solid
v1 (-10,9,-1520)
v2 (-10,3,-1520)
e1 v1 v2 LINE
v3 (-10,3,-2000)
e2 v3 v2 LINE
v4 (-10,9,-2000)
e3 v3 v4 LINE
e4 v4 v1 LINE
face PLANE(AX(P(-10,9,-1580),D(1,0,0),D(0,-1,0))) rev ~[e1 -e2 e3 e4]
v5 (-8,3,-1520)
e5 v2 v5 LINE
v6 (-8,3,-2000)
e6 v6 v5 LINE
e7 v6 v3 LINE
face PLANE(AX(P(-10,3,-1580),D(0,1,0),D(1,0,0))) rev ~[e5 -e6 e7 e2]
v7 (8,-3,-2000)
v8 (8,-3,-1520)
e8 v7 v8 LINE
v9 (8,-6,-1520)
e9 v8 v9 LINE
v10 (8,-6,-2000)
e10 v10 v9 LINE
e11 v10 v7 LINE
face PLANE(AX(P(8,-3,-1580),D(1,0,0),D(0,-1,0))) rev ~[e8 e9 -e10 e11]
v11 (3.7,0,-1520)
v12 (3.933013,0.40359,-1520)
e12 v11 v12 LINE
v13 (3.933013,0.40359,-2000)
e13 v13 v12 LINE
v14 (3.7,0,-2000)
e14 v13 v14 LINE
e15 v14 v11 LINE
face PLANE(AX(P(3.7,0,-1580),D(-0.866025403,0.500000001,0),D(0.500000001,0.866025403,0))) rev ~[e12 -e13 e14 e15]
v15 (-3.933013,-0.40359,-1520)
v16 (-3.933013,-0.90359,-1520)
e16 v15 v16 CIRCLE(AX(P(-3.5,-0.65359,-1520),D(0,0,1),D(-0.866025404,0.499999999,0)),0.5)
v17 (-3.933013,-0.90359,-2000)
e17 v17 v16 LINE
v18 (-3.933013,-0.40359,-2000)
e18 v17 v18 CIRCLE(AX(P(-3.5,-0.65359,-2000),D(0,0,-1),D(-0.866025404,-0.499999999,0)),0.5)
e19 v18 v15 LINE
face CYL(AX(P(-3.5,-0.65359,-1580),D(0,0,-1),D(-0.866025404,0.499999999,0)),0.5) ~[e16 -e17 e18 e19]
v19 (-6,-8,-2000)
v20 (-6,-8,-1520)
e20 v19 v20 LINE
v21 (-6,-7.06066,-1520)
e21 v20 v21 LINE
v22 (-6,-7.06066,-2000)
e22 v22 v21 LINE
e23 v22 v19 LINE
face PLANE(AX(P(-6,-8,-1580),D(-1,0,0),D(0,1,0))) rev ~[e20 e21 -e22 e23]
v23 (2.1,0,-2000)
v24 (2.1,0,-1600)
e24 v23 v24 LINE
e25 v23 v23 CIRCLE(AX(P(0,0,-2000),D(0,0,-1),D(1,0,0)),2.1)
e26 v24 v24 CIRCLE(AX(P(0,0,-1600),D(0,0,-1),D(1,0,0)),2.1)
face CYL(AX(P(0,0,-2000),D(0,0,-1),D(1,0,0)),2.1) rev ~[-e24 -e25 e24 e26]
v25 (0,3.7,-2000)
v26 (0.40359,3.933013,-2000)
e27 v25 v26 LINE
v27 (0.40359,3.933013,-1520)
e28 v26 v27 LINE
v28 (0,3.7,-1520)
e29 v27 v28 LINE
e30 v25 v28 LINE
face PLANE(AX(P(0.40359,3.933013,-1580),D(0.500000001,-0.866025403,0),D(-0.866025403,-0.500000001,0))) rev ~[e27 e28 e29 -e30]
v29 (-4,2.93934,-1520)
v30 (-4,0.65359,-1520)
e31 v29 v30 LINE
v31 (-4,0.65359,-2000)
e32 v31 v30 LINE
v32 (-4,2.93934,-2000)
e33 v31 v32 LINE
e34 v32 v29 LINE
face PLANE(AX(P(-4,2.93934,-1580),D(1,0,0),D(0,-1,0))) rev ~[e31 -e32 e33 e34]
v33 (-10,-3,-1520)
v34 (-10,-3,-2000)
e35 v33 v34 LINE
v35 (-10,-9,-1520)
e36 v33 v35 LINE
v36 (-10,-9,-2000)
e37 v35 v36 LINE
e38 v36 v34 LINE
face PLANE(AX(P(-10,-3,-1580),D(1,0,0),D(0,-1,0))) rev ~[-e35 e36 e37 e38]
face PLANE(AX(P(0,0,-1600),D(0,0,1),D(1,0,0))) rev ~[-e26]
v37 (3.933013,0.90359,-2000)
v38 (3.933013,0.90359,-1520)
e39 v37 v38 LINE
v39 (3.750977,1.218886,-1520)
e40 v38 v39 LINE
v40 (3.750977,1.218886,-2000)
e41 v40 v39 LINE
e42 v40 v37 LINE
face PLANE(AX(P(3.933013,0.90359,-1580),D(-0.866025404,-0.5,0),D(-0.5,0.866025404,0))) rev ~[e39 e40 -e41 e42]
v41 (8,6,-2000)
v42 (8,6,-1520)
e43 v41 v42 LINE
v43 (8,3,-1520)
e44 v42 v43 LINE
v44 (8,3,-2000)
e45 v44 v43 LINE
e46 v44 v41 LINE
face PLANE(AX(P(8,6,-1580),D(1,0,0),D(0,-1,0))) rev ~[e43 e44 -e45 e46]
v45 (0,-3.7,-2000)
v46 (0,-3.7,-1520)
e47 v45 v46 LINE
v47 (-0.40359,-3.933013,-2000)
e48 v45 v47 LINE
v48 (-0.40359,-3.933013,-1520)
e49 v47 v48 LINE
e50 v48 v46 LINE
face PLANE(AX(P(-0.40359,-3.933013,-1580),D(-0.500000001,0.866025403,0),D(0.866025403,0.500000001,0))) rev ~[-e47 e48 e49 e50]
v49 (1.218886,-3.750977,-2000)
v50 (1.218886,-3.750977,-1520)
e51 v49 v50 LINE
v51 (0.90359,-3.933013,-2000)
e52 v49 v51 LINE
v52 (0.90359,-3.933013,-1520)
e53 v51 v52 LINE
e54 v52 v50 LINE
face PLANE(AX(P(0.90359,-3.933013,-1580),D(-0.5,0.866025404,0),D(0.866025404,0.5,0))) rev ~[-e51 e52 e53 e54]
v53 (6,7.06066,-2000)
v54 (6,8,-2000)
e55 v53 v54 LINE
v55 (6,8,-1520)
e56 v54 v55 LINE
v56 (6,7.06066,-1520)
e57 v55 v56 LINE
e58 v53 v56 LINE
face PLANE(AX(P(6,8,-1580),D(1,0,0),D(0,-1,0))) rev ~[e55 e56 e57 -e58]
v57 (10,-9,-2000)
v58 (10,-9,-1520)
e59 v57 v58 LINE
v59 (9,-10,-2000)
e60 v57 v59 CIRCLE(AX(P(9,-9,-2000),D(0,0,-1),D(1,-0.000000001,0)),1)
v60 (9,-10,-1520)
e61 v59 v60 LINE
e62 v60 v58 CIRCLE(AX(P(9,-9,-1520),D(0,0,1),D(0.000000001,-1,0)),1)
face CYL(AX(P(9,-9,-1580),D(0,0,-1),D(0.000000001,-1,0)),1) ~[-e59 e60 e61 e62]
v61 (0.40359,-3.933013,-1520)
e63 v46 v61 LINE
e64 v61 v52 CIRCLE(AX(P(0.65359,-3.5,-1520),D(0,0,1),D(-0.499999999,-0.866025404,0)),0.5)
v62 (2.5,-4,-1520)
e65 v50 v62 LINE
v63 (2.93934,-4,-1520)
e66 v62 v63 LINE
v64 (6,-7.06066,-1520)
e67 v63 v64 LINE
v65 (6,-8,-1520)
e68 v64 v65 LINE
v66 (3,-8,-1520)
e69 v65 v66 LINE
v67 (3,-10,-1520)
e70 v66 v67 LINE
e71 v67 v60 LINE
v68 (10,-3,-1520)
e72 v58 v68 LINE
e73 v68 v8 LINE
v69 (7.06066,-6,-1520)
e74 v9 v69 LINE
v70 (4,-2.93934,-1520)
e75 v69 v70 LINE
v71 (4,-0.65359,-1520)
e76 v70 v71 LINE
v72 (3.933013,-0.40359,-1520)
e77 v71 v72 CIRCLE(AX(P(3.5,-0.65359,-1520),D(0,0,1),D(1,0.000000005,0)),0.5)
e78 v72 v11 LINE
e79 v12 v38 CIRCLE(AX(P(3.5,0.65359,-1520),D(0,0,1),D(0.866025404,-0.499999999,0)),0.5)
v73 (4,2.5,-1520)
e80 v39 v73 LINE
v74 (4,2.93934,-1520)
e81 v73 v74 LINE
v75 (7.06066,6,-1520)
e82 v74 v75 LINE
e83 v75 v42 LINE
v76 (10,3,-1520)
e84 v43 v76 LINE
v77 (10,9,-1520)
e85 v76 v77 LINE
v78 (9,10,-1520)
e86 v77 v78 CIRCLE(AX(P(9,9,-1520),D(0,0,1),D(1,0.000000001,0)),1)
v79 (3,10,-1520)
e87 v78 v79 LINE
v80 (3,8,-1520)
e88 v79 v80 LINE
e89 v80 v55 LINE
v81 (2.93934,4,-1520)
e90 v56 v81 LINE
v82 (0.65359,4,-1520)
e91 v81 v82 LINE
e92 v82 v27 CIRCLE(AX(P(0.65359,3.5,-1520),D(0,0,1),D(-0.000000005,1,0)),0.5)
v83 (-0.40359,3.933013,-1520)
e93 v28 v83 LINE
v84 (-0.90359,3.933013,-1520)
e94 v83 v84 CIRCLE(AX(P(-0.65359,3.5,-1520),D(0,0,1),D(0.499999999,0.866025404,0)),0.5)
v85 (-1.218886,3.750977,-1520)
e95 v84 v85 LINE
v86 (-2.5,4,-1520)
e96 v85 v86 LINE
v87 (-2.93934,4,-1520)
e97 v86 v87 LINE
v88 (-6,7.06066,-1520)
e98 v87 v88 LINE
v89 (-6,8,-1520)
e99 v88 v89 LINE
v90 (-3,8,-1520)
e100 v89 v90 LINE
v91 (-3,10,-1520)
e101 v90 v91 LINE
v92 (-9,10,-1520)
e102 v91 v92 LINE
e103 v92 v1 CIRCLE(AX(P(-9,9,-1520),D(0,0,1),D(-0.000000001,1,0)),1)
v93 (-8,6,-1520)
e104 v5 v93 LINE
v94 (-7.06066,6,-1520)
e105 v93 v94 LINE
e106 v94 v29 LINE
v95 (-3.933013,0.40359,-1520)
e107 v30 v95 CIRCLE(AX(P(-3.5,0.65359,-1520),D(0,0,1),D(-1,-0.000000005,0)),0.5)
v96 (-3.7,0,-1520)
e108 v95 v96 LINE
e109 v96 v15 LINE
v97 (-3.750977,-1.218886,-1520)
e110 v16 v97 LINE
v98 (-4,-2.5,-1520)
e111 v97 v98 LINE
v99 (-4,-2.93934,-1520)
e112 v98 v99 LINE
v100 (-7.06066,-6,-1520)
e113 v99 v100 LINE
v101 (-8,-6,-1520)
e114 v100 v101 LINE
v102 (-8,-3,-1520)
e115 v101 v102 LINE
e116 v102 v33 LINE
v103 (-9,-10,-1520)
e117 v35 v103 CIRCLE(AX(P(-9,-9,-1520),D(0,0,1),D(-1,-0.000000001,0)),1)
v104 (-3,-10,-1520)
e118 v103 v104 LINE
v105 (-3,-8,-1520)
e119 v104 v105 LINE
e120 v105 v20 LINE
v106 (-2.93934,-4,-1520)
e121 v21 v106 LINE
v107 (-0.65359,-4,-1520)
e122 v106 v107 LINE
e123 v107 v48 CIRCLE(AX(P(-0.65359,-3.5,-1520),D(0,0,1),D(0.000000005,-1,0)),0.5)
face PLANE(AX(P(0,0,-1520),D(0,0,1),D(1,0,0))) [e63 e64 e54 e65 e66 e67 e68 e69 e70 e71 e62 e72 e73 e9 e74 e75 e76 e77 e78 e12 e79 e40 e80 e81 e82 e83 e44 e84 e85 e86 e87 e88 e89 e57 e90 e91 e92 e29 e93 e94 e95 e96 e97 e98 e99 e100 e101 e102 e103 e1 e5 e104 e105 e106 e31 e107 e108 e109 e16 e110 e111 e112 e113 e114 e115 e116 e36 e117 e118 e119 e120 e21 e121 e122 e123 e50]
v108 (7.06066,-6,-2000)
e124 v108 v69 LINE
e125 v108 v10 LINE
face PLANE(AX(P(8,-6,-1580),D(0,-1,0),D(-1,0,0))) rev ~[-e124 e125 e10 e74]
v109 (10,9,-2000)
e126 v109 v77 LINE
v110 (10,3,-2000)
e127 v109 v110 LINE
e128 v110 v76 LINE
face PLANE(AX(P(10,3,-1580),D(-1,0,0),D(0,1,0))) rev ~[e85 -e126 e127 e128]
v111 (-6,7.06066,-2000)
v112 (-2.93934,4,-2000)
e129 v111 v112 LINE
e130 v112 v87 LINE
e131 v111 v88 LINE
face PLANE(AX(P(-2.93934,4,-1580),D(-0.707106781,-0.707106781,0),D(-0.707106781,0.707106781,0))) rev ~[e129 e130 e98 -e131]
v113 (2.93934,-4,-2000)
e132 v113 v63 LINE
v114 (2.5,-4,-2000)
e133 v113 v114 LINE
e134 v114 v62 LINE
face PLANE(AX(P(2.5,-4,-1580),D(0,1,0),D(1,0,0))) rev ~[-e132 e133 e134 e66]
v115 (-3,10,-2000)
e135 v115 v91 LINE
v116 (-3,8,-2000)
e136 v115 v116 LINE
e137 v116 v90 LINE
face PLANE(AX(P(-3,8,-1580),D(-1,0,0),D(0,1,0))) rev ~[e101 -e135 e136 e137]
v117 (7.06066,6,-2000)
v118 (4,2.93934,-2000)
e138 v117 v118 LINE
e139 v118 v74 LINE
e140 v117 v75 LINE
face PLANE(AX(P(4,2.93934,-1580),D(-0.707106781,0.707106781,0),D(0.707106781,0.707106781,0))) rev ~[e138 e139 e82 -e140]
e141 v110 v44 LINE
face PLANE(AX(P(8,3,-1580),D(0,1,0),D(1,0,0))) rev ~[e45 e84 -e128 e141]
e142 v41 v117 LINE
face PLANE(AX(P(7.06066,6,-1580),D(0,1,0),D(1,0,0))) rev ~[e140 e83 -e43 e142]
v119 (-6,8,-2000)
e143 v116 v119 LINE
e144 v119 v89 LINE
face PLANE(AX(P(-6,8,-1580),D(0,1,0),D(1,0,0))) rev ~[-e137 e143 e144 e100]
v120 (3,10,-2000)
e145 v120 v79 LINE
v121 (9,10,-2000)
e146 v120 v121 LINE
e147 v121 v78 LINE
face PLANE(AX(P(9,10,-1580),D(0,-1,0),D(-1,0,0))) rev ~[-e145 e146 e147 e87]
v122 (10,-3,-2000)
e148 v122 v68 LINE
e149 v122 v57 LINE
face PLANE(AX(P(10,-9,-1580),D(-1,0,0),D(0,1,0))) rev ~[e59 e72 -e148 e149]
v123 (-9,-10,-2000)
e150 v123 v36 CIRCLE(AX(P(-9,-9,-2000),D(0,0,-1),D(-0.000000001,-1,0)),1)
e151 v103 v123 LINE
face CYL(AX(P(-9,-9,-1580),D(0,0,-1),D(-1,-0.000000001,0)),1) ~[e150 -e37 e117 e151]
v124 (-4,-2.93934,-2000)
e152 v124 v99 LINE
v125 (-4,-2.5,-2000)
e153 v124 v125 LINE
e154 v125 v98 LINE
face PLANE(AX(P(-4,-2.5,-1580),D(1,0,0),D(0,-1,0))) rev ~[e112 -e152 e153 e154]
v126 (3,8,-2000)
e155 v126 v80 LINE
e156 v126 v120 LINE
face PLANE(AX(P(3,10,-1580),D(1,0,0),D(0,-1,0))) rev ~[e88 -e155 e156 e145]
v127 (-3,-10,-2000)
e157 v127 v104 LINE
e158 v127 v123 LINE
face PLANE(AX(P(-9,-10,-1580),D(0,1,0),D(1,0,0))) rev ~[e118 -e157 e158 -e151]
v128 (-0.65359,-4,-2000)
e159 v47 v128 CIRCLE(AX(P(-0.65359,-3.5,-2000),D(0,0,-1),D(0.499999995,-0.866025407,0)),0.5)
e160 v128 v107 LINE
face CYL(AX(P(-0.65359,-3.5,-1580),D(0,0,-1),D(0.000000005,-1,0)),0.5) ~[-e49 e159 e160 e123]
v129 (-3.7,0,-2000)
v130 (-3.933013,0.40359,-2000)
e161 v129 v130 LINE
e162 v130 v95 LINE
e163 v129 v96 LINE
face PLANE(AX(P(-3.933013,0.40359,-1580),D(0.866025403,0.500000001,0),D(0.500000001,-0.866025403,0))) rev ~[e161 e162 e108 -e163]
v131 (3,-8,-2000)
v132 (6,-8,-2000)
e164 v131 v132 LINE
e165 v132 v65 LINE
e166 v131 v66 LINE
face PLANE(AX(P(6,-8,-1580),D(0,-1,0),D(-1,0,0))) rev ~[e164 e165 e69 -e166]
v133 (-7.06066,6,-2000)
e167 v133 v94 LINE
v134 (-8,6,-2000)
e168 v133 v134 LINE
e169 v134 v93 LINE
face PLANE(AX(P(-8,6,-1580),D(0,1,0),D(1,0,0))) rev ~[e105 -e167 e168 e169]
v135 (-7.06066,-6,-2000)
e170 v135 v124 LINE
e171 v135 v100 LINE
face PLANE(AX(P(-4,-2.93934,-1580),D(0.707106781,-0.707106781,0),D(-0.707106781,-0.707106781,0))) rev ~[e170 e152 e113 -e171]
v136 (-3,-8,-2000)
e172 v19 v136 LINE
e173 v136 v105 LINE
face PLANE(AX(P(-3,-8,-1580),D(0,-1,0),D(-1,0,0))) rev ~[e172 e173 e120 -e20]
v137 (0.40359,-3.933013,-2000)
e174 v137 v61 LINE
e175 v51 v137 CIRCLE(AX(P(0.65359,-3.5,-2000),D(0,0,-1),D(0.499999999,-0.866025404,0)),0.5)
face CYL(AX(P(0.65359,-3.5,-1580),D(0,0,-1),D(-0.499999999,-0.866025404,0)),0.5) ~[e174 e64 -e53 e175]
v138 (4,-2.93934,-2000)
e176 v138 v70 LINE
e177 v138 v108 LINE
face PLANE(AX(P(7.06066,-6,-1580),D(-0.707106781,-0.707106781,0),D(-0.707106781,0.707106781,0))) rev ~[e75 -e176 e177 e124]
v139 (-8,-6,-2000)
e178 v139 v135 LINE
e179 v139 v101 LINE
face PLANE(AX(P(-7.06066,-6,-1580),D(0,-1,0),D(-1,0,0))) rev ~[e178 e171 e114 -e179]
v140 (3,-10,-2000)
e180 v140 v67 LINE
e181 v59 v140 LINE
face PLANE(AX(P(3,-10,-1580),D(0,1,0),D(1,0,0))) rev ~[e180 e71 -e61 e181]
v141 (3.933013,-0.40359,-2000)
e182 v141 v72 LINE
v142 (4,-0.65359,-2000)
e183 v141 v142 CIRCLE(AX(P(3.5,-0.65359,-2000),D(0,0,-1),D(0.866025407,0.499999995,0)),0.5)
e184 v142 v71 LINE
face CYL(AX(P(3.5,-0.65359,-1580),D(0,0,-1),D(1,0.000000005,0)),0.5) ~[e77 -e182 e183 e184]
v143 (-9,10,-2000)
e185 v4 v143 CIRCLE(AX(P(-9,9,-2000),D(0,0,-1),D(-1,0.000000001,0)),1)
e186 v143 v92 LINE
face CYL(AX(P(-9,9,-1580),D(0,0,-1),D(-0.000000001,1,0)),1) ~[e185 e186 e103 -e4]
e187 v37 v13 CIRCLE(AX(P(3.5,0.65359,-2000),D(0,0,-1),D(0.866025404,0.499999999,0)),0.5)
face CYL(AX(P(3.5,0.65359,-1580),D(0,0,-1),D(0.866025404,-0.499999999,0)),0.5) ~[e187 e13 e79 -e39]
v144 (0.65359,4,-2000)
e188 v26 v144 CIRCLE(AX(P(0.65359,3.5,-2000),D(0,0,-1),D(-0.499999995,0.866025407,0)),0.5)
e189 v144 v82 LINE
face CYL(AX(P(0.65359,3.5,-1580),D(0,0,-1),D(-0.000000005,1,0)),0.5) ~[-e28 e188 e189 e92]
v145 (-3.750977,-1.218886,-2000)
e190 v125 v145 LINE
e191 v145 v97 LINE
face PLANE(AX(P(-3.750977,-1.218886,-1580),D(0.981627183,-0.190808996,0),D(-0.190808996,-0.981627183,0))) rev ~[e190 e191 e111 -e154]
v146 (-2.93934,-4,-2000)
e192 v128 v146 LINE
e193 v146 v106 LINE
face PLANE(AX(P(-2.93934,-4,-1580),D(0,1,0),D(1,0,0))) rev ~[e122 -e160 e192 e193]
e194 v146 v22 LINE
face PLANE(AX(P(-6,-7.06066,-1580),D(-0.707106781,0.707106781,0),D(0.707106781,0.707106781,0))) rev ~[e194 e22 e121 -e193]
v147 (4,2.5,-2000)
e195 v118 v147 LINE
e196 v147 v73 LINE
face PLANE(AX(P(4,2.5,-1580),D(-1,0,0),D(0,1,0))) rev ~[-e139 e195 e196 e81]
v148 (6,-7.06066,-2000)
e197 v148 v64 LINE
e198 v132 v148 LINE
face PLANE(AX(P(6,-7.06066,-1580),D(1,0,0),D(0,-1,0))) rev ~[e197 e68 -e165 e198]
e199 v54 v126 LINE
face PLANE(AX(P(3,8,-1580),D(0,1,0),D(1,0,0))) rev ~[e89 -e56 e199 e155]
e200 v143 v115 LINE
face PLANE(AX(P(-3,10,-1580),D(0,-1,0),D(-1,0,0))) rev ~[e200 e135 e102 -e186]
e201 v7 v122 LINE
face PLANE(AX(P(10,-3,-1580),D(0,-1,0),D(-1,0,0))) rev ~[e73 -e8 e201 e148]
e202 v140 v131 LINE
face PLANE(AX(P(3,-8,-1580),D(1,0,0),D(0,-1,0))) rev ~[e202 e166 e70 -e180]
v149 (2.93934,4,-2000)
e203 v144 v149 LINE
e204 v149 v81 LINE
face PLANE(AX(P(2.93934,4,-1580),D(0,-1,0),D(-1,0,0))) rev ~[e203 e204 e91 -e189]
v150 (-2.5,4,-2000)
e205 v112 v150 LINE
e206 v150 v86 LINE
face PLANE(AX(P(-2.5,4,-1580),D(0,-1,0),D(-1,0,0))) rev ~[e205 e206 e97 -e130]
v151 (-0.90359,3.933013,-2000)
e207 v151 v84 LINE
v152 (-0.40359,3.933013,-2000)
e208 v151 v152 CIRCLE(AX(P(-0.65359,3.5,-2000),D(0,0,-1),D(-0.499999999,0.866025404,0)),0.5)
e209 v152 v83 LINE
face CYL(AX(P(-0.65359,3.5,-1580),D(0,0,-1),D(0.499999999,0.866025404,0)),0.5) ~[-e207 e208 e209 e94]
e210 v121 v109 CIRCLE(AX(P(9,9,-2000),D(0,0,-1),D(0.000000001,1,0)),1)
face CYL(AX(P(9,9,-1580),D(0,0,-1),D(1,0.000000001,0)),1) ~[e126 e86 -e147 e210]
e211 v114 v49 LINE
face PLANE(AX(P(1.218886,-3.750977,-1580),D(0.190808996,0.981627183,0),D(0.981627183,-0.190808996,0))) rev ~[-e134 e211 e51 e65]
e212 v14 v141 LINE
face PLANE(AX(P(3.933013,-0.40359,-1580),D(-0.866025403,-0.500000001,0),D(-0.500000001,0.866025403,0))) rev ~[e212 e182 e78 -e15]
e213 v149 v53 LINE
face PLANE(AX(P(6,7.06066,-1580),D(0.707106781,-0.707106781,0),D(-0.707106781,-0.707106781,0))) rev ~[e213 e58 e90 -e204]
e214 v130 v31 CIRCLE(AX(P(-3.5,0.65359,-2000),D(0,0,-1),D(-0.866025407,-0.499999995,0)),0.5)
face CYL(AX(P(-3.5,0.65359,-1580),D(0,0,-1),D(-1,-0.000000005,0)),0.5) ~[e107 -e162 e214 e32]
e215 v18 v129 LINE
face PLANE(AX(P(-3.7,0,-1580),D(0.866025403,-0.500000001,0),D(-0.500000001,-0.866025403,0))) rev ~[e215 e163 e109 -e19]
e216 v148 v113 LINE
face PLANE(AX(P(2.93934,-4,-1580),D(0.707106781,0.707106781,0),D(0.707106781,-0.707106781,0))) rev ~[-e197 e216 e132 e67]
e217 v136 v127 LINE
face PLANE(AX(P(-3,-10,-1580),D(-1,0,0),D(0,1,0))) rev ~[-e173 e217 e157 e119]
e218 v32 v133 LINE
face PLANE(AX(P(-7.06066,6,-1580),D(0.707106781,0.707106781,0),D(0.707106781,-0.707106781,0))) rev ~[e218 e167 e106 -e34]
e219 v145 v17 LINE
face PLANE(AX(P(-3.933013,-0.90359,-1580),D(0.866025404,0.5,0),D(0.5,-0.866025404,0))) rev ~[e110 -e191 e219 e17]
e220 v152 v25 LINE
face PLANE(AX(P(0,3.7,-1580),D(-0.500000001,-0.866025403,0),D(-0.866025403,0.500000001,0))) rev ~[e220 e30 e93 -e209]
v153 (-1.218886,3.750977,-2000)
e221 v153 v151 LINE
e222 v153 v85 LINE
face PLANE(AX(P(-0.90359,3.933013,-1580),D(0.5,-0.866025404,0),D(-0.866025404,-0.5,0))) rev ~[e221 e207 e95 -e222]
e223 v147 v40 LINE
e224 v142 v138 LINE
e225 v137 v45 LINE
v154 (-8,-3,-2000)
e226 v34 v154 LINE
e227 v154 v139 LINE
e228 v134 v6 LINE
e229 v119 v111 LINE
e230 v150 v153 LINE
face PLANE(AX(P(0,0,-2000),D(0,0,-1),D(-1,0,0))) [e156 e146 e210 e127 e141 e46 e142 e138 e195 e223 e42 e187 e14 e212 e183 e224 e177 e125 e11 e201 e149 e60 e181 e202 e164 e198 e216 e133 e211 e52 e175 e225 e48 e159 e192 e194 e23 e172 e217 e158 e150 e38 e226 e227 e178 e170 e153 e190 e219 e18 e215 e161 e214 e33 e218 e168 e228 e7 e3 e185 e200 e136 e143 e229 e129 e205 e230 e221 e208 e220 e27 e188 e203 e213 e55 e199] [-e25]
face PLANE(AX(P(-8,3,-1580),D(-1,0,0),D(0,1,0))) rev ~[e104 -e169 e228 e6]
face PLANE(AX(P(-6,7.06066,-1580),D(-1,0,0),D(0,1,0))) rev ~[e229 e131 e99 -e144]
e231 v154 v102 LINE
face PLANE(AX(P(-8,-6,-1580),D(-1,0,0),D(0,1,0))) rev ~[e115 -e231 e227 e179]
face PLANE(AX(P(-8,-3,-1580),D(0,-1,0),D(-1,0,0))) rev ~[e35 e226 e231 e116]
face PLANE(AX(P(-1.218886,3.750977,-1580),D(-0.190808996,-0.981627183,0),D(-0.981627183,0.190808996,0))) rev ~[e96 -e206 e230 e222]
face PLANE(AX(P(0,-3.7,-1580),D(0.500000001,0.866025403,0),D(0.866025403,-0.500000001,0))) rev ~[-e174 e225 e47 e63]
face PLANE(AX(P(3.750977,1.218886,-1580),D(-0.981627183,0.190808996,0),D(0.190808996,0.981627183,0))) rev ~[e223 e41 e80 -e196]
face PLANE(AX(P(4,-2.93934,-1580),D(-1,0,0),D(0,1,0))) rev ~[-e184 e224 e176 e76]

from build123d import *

# Parameters (mm, degrees)
SKETCH1_R           = 2.1
BOSS_EXTRUDE1_DEPTH = 400
EXTRUDE_1_DEPTH     = 20
EXTRUDE_2_DEPTH     = 60


with BuildPart() as part:
    # Sketch1 → Boss-Extrude1 (new body)
    with BuildSketch(Plane(origin=(0, 0, -2000), x_dir=(-1, 0, 0), z_dir=(0, 0, -1))):
        with BuildLine():
            Line((10, -3), (8, -3))
            Line((8, -3), (8, -6))
            Line((8, -6), (7.060660172, -6))
            Line((7.060660172, -6), (4, -2.939339828))
            Line((4, -2.939339828), (4, -2.5))
            Line((4, -2.5), (3.750976592, -1.218885629))
            Line((3.750976592, -1.218885629), (3.933012702, -0.903589838))
            ThreePointArc((3.933012702, -0.903589838), (4, -0.653589838), (3.933012702, -0.403589838))
            Line((3.933012702, -0.403589838), (3.7, 0))
            Line((3.7, 0), (3.933012702, 0.403589838))
            ThreePointArc((3.933012702, 0.403589838), (3.982962913, 0.524180316), (4, 0.653589838))
            Line((4, 0.653589838), (4, 2.939339828))
            Line((4, 2.939339828), (7.060660172, 6))
            Line((7.060660172, 6), (8, 6))
            Line((8, 6), (8, 3))
            Line((8, 3), (10, 3))
            Line((10, 3), (10, 9))
            ThreePointArc((10, 9), (9.707106781, 9.707106781), (9, 10))
            Line((9, 10), (3, 10))
            Line((3, 10), (3, 8))
            Line((3, 8), (6, 8))
            Line((6, 8), (6, 7.060660172))
            Line((6, 7.060660172), (2.939339828, 4))
            Line((2.939339828, 4), (2.5, 4))
            Line((2.5, 4), (1.218885629, 3.750976592))
            Line((1.218885629, 3.750976592), (0.903589838, 3.933012702))
            ThreePointArc((0.903589838, 3.933012702), (0.653589838, 4), (0.403589838, 3.933012702))
            Line((0.403589838, 3.933012702), (0, 3.7))
            Line((0, 3.7), (-0.403589838, 3.933012702))
            ThreePointArc((-0.403589838, 3.933012702), (-0.524180316, 3.982962913), (-0.653589838, 4))
            Line((-0.653589838, 4), (-2.939339828, 4))
            Line((-2.939339828, 4), (-6, 7.060660172))
            Line((-6, 7.060660172), (-6, 8))
            Line((-6, 8), (-3, 8))
            Line((-3, 8), (-3, 10))
            Line((-3, 10), (-9, 10))
            ThreePointArc((-9, 10), (-9.707106781, 9.707106781), (-10, 9))
            Line((-10, 9), (-10, 3))
            Line((-10, 3), (-8, 3))
            Line((-8, 3), (-8, 6))
            Line((-8, 6), (-7.060660172, 6))
            Line((-7.060660172, 6), (-4, 2.939339828))
            Line((-4, 2.939339828), (-4, 2.5))
            Line((-4, 2.5), (-3.750976592, 1.218885629))
            Line((-3.750976592, 1.218885629), (-3.933012702, 0.903589838))
            ThreePointArc((-3.933012702, 0.903589838), (-4, 0.653589838), (-3.933012702, 0.403589838))
            Line((-3.933012702, 0.403589838), (-3.7, 0))
            Line((-3.7, 0), (-3.933012702, -0.403589838))
            ThreePointArc((-3.933012702, -0.403589838), (-3.982962913, -0.524180316), (-4, -0.653589838))
            Line((-4, -0.653589838), (-4, -2.939339828))
            Line((-4, -2.939339828), (-7.060660172, -6))
            Line((-7.060660172, -6), (-8, -6))
            Line((-8, -6), (-8, -3))
            Line((-8, -3), (-10, -3))
            Line((-10, -3), (-10, -9))
            ThreePointArc((-10, -9), (-9.707106781, -9.707106781), (-9, -10))
            Line((-9, -10), (-3, -10))
            Line((-3, -10), (-3, -8))
            Line((-3, -8), (-6, -8))
            Line((-6, -8), (-6, -7.060660172))
            Line((-6, -7.060660172), (-2.939339828, -4))
            Line((-2.939339828, -4), (-2.5, -4))
            Line((-2.5, -4), (-1.218885629, -3.750976592))
            Line((-1.218885629, -3.750976592), (-0.903589838, -3.933012702))
            ThreePointArc((-0.903589838, -3.933012702), (-0.653589838, -4), (-0.403589838, -3.933012702))
            Line((-0.403589838, -3.933012702), (0, -3.7))
            Line((0, -3.7), (0.403589838, -3.933012702))
            ThreePointArc((0.403589838, -3.933012702), (0.524180316, -3.982962913), (0.653589838, -4))
            Line((0.653589838, -4), (2.939339828, -4))
            Line((2.939339828, -4), (6, -7.060660172))
            Line((6, -7.060660172), (6, -8))
            Line((6, -8), (3, -8))
            Line((3, -8), (3, -10))
            Line((3, -10), (9, -10))
            ThreePointArc((9, -10), (9.707106781, -9.707106781), (10, -9))
            Line((10, -9), (10, -3))
        make_face()
        with Locations(Location((0, 0, 0), (0, 0, 180))):
            Circle(SKETCH1_R, mode=Mode.SUBTRACT)
    extrude(amount=-BOSS_EXTRUDE1_DEPTH)

    # 草图1 → 凸台-拉伸1 (add)
    with BuildSketch(Plane.XY.offset(-1600)):
        with BuildLine():
            Line((-10, -3), (-10, -9))
            ThreePointArc((-10, -9), (-9.707106781, -9.707106781), (-9, -10))
            Line((-9, -10), (-3, -10))
            Line((-3, -10), (-3, -8))
            Line((-3, -8), (-6, -8))
            Line((-6, -8), (-6, -7.060660172))
            Line((-6, -7.060660172), (-2.939339828, -4))
            Line((-2.939339828, -4), (-0.653589838, -4))
            ThreePointArc((-0.653589838, -4), (-0.524180316, -3.982962913), (-0.403589838, -3.933012702))
            Line((-0.403589838, -3.933012702), (0, -3.7))
            Line((0, -3.7), (0.403589838, -3.933012702))
            ThreePointArc((0.403589838, -3.933012702), (0.653589838, -4), (0.903589838, -3.933012702))
            Line((0.903589838, -3.933012702), (1.218885629, -3.750976592))
            Line((1.218885629, -3.750976592), (2.5, -4))
            Line((2.5, -4), (2.939339828, -4))
            Line((2.939339828, -4), (6, -7.060660172))
            Line((6, -7.060660172), (6, -8))
            Line((6, -8), (3, -8))
            Line((3, -8), (3, -10))
            Line((3, -10), (9, -10))
            ThreePointArc((9, -10), (9.707106781, -9.707106781), (10, -9))
            Line((10, -9), (10, -3))
            Line((10, -3), (8, -3))
            Line((8, -3), (8, -6))
            Line((8, -6), (7.060660172, -6))
            Line((7.060660172, -6), (4, -2.939339828))
            Line((4, -2.939339828), (4, -0.653589838))
            ThreePointArc((4, -0.653589838), (3.982962913, -0.524180316), (3.933012702, -0.403589838))
            Line((3.933012702, -0.403589838), (3.7, 0))
            Line((3.7, 0), (3.933012702, 0.403589838))
            ThreePointArc((3.933012702, 0.403589838), (4, 0.653589838), (3.933012702, 0.903589838))
            Line((3.933012702, 0.903589838), (3.750976592, 1.218885629))
            Line((3.750976592, 1.218885629), (4, 2.5))
            Line((4, 2.5), (4, 2.939339828))
            Line((4, 2.939339828), (7.060660172, 6))
            Line((7.060660172, 6), (8, 6))
            Line((8, 6), (8, 3))
            Line((8, 3), (10, 3))
            Line((10, 3), (10, 9))
            ThreePointArc((10, 9), (9.707106781, 9.707106781), (9, 10))
            Line((9, 10), (3, 10))
            Line((3, 10), (3, 8))
            Line((3, 8), (6, 8))
            Line((6, 8), (6, 7.060660172))
            Line((6, 7.060660172), (2.939339828, 4))
            Line((2.939339828, 4), (0.653589838, 4))
            ThreePointArc((0.653589838, 4), (0.524180316, 3.982962913), (0.403589838, 3.933012702))
            Line((0.403589838, 3.933012702), (0, 3.7))
            Line((0, 3.7), (-0.403589838, 3.933012702))
            ThreePointArc((-0.403589838, 3.933012702), (-0.653589838, 4), (-0.903589838, 3.933012702))
            Line((-0.903589838, 3.933012702), (-1.218885629, 3.750976592))
            Line((-1.218885629, 3.750976592), (-2.5, 4))
            Line((-2.5, 4), (-2.939339828, 4))
            Line((-2.939339828, 4), (-6, 7.060660172))
            Line((-6, 7.060660172), (-6, 8))
            Line((-6, 8), (-3, 8))
            Line((-3, 8), (-3, 10))
            Line((-3, 10), (-9, 10))
            ThreePointArc((-9, 10), (-9.707106781, 9.707106781), (-10, 9))
            Line((-10, 9), (-10, 3))
            Line((-10, 3), (-8, 3))
            Line((-8, 3), (-8, 6))
            Line((-8, 6), (-7.060660172, 6))
            Line((-7.060660172, 6), (-4, 2.939339828))
            Line((-4, 2.939339828), (-4, 0.653589838))
            ThreePointArc((-4, 0.653589838), (-3.982962913, 0.524180316), (-3.933012702, 0.403589838))
            Line((-3.933012702, 0.403589838), (-3.7, 0))
            Line((-3.7, 0), (-3.933012702, -0.403589838))
            ThreePointArc((-3.933012702, -0.403589838), (-4, -0.653589838), (-3.933012702, -0.903589838))
            Line((-3.933012702, -0.903589838), (-3.750976592, -1.218885629))
            Line((-3.750976592, -1.218885629), (-4, -2.5))
            Line((-4, -2.5), (-4, -2.939339828))
            Line((-4, -2.939339828), (-7.060660172, -6))
            Line((-7.060660172, -6), (-8, -6))
            Line((-8, -6), (-8, -3))
            Line((-8, -3), (-10, -3))
        make_face()
    extrude(amount=EXTRUDE_1_DEPTH)

    # 草图2 → 凸台-拉伸2 (add)
    with BuildSketch(Plane.XY.offset(-1580)):
        with BuildLine():
            Line((-9, -10), (-3, -10))
            Line((-3, -10), (-3, -8))
            Line((-3, -8), (-6, -8))
            Line((-6, -8), (-6, -7.060660172))
            Line((-6, -7.060660172), (-2.939339828, -4))
            Line((-2.939339828, -4), (-0.653589838, -4))
            ThreePointArc((-0.653589838, -4), (-0.524180316, -3.982962913), (-0.403589838, -3.933012702))
            Line((-0.403589838, -3.933012702), (0, -3.7))
            Line((0, -3.7), (0.403589838, -3.933012702))
            ThreePointArc((0.403589838, -3.933012702), (0.653589838, -4), (0.903589838, -3.933012702))
            Line((0.903589838, -3.933012702), (1.218885629, -3.750976592))
            Line((1.218885629, -3.750976592), (2.5, -4))
            Line((2.5, -4), (2.939339828, -4))
            Line((2.939339828, -4), (6, -7.060660172))
            Line((6, -7.060660172), (6, -8))
            Line((6, -8), (3, -8))
            Line((3, -8), (3, -10))
            Line((3, -10), (9, -10))
            ThreePointArc((9, -10), (9.707106781, -9.707106781), (10, -9))
            Line((10, -9), (10, -3))
            Line((10, -3), (8, -3))
            Line((8, -3), (8, -6))
            Line((8, -6), (7.060660172, -6))
            Line((7.060660172, -6), (4, -2.939339828))
            Line((4, -2.939339828), (4, -0.653589838))
            ThreePointArc((4, -0.653589838), (3.982962913, -0.524180316), (3.933012702, -0.403589838))
            Line((3.933012702, -0.403589838), (3.7, 0))
            Line((3.7, 0), (3.933012702, 0.403589838))
            ThreePointArc((3.933012702, 0.403589838), (4, 0.653589838), (3.933012702, 0.903589838))
            Line((3.933012702, 0.903589838), (3.750976592, 1.218885629))
            Line((3.750976592, 1.218885629), (4, 2.5))
            Line((4, 2.5), (4, 2.939339828))
            Line((4, 2.939339828), (7.060660172, 6))
            Line((7.060660172, 6), (8, 6))
            Line((8, 6), (8, 3))
            Line((8, 3), (10, 3))
            Line((10, 3), (10, 9))
            ThreePointArc((10, 9), (9.707106781, 9.707106781), (9, 10))
            Line((9, 10), (3, 10))
            Line((3, 10), (3, 8))
            Line((3, 8), (6, 8))
            Line((6, 8), (6, 7.060660172))
            Line((6, 7.060660172), (2.939339828, 4))
            Line((2.939339828, 4), (0.653589838, 4))
            ThreePointArc((0.653589838, 4), (0.524180316, 3.982962913), (0.403589838, 3.933012702))
            Line((0.403589838, 3.933012702), (0, 3.7))
            Line((0, 3.7), (-0.403589838, 3.933012702))
            ThreePointArc((-0.403589838, 3.933012702), (-0.653589838, 4), (-0.903589838, 3.933012702))
            Line((-0.903589838, 3.933012702), (-1.218885629, 3.750976592))
            Line((-1.218885629, 3.750976592), (-2.5, 4))
            Line((-2.5, 4), (-2.939339828, 4))
            Line((-2.939339828, 4), (-6, 7.060660172))
            Line((-6, 7.060660172), (-6, 8))
            Line((-6, 8), (-3, 8))
            Line((-3, 8), (-3, 10))
            Line((-3, 10), (-9, 10))
            ThreePointArc((-9, 10), (-9.707106781, 9.707106781), (-10, 9))
            Line((-10, 9), (-10, 3))
            Line((-10, 3), (-8, 3))
            Line((-8, 3), (-8, 6))
            Line((-8, 6), (-7.060660172, 6))
            Line((-7.060660172, 6), (-4, 2.939339828))
            Line((-4, 2.939339828), (-4, 0.653589838))
            ThreePointArc((-4, 0.653589838), (-3.982962913, 0.524180316), (-3.933012702, 0.403589838))
            Line((-3.933012702, 0.403589838), (-3.7, 0))
            Line((-3.7, 0), (-3.933012702, -0.403589838))
            ThreePointArc((-3.933012702, -0.403589838), (-4, -0.653589838), (-3.933012702, -0.903589838))
            Line((-3.933012702, -0.903589838), (-3.750976592, -1.218885629))
            Line((-3.750976592, -1.218885629), (-4, -2.5))
            Line((-4, -2.5), (-4, -2.939339828))
            Line((-4, -2.939339828), (-7.060660172, -6))
            Line((-7.060660172, -6), (-8, -6))
            Line((-8, -6), (-8, -3))
            Line((-8, -3), (-10, -3))
            Line((-10, -3), (-10, -9))
            ThreePointArc((-10, -9), (-9.707106781, -9.707106781), (-9, -10))
        make_face()
    extrude(amount=EXTRUDE_2_DEPTH)


solid = part.part
